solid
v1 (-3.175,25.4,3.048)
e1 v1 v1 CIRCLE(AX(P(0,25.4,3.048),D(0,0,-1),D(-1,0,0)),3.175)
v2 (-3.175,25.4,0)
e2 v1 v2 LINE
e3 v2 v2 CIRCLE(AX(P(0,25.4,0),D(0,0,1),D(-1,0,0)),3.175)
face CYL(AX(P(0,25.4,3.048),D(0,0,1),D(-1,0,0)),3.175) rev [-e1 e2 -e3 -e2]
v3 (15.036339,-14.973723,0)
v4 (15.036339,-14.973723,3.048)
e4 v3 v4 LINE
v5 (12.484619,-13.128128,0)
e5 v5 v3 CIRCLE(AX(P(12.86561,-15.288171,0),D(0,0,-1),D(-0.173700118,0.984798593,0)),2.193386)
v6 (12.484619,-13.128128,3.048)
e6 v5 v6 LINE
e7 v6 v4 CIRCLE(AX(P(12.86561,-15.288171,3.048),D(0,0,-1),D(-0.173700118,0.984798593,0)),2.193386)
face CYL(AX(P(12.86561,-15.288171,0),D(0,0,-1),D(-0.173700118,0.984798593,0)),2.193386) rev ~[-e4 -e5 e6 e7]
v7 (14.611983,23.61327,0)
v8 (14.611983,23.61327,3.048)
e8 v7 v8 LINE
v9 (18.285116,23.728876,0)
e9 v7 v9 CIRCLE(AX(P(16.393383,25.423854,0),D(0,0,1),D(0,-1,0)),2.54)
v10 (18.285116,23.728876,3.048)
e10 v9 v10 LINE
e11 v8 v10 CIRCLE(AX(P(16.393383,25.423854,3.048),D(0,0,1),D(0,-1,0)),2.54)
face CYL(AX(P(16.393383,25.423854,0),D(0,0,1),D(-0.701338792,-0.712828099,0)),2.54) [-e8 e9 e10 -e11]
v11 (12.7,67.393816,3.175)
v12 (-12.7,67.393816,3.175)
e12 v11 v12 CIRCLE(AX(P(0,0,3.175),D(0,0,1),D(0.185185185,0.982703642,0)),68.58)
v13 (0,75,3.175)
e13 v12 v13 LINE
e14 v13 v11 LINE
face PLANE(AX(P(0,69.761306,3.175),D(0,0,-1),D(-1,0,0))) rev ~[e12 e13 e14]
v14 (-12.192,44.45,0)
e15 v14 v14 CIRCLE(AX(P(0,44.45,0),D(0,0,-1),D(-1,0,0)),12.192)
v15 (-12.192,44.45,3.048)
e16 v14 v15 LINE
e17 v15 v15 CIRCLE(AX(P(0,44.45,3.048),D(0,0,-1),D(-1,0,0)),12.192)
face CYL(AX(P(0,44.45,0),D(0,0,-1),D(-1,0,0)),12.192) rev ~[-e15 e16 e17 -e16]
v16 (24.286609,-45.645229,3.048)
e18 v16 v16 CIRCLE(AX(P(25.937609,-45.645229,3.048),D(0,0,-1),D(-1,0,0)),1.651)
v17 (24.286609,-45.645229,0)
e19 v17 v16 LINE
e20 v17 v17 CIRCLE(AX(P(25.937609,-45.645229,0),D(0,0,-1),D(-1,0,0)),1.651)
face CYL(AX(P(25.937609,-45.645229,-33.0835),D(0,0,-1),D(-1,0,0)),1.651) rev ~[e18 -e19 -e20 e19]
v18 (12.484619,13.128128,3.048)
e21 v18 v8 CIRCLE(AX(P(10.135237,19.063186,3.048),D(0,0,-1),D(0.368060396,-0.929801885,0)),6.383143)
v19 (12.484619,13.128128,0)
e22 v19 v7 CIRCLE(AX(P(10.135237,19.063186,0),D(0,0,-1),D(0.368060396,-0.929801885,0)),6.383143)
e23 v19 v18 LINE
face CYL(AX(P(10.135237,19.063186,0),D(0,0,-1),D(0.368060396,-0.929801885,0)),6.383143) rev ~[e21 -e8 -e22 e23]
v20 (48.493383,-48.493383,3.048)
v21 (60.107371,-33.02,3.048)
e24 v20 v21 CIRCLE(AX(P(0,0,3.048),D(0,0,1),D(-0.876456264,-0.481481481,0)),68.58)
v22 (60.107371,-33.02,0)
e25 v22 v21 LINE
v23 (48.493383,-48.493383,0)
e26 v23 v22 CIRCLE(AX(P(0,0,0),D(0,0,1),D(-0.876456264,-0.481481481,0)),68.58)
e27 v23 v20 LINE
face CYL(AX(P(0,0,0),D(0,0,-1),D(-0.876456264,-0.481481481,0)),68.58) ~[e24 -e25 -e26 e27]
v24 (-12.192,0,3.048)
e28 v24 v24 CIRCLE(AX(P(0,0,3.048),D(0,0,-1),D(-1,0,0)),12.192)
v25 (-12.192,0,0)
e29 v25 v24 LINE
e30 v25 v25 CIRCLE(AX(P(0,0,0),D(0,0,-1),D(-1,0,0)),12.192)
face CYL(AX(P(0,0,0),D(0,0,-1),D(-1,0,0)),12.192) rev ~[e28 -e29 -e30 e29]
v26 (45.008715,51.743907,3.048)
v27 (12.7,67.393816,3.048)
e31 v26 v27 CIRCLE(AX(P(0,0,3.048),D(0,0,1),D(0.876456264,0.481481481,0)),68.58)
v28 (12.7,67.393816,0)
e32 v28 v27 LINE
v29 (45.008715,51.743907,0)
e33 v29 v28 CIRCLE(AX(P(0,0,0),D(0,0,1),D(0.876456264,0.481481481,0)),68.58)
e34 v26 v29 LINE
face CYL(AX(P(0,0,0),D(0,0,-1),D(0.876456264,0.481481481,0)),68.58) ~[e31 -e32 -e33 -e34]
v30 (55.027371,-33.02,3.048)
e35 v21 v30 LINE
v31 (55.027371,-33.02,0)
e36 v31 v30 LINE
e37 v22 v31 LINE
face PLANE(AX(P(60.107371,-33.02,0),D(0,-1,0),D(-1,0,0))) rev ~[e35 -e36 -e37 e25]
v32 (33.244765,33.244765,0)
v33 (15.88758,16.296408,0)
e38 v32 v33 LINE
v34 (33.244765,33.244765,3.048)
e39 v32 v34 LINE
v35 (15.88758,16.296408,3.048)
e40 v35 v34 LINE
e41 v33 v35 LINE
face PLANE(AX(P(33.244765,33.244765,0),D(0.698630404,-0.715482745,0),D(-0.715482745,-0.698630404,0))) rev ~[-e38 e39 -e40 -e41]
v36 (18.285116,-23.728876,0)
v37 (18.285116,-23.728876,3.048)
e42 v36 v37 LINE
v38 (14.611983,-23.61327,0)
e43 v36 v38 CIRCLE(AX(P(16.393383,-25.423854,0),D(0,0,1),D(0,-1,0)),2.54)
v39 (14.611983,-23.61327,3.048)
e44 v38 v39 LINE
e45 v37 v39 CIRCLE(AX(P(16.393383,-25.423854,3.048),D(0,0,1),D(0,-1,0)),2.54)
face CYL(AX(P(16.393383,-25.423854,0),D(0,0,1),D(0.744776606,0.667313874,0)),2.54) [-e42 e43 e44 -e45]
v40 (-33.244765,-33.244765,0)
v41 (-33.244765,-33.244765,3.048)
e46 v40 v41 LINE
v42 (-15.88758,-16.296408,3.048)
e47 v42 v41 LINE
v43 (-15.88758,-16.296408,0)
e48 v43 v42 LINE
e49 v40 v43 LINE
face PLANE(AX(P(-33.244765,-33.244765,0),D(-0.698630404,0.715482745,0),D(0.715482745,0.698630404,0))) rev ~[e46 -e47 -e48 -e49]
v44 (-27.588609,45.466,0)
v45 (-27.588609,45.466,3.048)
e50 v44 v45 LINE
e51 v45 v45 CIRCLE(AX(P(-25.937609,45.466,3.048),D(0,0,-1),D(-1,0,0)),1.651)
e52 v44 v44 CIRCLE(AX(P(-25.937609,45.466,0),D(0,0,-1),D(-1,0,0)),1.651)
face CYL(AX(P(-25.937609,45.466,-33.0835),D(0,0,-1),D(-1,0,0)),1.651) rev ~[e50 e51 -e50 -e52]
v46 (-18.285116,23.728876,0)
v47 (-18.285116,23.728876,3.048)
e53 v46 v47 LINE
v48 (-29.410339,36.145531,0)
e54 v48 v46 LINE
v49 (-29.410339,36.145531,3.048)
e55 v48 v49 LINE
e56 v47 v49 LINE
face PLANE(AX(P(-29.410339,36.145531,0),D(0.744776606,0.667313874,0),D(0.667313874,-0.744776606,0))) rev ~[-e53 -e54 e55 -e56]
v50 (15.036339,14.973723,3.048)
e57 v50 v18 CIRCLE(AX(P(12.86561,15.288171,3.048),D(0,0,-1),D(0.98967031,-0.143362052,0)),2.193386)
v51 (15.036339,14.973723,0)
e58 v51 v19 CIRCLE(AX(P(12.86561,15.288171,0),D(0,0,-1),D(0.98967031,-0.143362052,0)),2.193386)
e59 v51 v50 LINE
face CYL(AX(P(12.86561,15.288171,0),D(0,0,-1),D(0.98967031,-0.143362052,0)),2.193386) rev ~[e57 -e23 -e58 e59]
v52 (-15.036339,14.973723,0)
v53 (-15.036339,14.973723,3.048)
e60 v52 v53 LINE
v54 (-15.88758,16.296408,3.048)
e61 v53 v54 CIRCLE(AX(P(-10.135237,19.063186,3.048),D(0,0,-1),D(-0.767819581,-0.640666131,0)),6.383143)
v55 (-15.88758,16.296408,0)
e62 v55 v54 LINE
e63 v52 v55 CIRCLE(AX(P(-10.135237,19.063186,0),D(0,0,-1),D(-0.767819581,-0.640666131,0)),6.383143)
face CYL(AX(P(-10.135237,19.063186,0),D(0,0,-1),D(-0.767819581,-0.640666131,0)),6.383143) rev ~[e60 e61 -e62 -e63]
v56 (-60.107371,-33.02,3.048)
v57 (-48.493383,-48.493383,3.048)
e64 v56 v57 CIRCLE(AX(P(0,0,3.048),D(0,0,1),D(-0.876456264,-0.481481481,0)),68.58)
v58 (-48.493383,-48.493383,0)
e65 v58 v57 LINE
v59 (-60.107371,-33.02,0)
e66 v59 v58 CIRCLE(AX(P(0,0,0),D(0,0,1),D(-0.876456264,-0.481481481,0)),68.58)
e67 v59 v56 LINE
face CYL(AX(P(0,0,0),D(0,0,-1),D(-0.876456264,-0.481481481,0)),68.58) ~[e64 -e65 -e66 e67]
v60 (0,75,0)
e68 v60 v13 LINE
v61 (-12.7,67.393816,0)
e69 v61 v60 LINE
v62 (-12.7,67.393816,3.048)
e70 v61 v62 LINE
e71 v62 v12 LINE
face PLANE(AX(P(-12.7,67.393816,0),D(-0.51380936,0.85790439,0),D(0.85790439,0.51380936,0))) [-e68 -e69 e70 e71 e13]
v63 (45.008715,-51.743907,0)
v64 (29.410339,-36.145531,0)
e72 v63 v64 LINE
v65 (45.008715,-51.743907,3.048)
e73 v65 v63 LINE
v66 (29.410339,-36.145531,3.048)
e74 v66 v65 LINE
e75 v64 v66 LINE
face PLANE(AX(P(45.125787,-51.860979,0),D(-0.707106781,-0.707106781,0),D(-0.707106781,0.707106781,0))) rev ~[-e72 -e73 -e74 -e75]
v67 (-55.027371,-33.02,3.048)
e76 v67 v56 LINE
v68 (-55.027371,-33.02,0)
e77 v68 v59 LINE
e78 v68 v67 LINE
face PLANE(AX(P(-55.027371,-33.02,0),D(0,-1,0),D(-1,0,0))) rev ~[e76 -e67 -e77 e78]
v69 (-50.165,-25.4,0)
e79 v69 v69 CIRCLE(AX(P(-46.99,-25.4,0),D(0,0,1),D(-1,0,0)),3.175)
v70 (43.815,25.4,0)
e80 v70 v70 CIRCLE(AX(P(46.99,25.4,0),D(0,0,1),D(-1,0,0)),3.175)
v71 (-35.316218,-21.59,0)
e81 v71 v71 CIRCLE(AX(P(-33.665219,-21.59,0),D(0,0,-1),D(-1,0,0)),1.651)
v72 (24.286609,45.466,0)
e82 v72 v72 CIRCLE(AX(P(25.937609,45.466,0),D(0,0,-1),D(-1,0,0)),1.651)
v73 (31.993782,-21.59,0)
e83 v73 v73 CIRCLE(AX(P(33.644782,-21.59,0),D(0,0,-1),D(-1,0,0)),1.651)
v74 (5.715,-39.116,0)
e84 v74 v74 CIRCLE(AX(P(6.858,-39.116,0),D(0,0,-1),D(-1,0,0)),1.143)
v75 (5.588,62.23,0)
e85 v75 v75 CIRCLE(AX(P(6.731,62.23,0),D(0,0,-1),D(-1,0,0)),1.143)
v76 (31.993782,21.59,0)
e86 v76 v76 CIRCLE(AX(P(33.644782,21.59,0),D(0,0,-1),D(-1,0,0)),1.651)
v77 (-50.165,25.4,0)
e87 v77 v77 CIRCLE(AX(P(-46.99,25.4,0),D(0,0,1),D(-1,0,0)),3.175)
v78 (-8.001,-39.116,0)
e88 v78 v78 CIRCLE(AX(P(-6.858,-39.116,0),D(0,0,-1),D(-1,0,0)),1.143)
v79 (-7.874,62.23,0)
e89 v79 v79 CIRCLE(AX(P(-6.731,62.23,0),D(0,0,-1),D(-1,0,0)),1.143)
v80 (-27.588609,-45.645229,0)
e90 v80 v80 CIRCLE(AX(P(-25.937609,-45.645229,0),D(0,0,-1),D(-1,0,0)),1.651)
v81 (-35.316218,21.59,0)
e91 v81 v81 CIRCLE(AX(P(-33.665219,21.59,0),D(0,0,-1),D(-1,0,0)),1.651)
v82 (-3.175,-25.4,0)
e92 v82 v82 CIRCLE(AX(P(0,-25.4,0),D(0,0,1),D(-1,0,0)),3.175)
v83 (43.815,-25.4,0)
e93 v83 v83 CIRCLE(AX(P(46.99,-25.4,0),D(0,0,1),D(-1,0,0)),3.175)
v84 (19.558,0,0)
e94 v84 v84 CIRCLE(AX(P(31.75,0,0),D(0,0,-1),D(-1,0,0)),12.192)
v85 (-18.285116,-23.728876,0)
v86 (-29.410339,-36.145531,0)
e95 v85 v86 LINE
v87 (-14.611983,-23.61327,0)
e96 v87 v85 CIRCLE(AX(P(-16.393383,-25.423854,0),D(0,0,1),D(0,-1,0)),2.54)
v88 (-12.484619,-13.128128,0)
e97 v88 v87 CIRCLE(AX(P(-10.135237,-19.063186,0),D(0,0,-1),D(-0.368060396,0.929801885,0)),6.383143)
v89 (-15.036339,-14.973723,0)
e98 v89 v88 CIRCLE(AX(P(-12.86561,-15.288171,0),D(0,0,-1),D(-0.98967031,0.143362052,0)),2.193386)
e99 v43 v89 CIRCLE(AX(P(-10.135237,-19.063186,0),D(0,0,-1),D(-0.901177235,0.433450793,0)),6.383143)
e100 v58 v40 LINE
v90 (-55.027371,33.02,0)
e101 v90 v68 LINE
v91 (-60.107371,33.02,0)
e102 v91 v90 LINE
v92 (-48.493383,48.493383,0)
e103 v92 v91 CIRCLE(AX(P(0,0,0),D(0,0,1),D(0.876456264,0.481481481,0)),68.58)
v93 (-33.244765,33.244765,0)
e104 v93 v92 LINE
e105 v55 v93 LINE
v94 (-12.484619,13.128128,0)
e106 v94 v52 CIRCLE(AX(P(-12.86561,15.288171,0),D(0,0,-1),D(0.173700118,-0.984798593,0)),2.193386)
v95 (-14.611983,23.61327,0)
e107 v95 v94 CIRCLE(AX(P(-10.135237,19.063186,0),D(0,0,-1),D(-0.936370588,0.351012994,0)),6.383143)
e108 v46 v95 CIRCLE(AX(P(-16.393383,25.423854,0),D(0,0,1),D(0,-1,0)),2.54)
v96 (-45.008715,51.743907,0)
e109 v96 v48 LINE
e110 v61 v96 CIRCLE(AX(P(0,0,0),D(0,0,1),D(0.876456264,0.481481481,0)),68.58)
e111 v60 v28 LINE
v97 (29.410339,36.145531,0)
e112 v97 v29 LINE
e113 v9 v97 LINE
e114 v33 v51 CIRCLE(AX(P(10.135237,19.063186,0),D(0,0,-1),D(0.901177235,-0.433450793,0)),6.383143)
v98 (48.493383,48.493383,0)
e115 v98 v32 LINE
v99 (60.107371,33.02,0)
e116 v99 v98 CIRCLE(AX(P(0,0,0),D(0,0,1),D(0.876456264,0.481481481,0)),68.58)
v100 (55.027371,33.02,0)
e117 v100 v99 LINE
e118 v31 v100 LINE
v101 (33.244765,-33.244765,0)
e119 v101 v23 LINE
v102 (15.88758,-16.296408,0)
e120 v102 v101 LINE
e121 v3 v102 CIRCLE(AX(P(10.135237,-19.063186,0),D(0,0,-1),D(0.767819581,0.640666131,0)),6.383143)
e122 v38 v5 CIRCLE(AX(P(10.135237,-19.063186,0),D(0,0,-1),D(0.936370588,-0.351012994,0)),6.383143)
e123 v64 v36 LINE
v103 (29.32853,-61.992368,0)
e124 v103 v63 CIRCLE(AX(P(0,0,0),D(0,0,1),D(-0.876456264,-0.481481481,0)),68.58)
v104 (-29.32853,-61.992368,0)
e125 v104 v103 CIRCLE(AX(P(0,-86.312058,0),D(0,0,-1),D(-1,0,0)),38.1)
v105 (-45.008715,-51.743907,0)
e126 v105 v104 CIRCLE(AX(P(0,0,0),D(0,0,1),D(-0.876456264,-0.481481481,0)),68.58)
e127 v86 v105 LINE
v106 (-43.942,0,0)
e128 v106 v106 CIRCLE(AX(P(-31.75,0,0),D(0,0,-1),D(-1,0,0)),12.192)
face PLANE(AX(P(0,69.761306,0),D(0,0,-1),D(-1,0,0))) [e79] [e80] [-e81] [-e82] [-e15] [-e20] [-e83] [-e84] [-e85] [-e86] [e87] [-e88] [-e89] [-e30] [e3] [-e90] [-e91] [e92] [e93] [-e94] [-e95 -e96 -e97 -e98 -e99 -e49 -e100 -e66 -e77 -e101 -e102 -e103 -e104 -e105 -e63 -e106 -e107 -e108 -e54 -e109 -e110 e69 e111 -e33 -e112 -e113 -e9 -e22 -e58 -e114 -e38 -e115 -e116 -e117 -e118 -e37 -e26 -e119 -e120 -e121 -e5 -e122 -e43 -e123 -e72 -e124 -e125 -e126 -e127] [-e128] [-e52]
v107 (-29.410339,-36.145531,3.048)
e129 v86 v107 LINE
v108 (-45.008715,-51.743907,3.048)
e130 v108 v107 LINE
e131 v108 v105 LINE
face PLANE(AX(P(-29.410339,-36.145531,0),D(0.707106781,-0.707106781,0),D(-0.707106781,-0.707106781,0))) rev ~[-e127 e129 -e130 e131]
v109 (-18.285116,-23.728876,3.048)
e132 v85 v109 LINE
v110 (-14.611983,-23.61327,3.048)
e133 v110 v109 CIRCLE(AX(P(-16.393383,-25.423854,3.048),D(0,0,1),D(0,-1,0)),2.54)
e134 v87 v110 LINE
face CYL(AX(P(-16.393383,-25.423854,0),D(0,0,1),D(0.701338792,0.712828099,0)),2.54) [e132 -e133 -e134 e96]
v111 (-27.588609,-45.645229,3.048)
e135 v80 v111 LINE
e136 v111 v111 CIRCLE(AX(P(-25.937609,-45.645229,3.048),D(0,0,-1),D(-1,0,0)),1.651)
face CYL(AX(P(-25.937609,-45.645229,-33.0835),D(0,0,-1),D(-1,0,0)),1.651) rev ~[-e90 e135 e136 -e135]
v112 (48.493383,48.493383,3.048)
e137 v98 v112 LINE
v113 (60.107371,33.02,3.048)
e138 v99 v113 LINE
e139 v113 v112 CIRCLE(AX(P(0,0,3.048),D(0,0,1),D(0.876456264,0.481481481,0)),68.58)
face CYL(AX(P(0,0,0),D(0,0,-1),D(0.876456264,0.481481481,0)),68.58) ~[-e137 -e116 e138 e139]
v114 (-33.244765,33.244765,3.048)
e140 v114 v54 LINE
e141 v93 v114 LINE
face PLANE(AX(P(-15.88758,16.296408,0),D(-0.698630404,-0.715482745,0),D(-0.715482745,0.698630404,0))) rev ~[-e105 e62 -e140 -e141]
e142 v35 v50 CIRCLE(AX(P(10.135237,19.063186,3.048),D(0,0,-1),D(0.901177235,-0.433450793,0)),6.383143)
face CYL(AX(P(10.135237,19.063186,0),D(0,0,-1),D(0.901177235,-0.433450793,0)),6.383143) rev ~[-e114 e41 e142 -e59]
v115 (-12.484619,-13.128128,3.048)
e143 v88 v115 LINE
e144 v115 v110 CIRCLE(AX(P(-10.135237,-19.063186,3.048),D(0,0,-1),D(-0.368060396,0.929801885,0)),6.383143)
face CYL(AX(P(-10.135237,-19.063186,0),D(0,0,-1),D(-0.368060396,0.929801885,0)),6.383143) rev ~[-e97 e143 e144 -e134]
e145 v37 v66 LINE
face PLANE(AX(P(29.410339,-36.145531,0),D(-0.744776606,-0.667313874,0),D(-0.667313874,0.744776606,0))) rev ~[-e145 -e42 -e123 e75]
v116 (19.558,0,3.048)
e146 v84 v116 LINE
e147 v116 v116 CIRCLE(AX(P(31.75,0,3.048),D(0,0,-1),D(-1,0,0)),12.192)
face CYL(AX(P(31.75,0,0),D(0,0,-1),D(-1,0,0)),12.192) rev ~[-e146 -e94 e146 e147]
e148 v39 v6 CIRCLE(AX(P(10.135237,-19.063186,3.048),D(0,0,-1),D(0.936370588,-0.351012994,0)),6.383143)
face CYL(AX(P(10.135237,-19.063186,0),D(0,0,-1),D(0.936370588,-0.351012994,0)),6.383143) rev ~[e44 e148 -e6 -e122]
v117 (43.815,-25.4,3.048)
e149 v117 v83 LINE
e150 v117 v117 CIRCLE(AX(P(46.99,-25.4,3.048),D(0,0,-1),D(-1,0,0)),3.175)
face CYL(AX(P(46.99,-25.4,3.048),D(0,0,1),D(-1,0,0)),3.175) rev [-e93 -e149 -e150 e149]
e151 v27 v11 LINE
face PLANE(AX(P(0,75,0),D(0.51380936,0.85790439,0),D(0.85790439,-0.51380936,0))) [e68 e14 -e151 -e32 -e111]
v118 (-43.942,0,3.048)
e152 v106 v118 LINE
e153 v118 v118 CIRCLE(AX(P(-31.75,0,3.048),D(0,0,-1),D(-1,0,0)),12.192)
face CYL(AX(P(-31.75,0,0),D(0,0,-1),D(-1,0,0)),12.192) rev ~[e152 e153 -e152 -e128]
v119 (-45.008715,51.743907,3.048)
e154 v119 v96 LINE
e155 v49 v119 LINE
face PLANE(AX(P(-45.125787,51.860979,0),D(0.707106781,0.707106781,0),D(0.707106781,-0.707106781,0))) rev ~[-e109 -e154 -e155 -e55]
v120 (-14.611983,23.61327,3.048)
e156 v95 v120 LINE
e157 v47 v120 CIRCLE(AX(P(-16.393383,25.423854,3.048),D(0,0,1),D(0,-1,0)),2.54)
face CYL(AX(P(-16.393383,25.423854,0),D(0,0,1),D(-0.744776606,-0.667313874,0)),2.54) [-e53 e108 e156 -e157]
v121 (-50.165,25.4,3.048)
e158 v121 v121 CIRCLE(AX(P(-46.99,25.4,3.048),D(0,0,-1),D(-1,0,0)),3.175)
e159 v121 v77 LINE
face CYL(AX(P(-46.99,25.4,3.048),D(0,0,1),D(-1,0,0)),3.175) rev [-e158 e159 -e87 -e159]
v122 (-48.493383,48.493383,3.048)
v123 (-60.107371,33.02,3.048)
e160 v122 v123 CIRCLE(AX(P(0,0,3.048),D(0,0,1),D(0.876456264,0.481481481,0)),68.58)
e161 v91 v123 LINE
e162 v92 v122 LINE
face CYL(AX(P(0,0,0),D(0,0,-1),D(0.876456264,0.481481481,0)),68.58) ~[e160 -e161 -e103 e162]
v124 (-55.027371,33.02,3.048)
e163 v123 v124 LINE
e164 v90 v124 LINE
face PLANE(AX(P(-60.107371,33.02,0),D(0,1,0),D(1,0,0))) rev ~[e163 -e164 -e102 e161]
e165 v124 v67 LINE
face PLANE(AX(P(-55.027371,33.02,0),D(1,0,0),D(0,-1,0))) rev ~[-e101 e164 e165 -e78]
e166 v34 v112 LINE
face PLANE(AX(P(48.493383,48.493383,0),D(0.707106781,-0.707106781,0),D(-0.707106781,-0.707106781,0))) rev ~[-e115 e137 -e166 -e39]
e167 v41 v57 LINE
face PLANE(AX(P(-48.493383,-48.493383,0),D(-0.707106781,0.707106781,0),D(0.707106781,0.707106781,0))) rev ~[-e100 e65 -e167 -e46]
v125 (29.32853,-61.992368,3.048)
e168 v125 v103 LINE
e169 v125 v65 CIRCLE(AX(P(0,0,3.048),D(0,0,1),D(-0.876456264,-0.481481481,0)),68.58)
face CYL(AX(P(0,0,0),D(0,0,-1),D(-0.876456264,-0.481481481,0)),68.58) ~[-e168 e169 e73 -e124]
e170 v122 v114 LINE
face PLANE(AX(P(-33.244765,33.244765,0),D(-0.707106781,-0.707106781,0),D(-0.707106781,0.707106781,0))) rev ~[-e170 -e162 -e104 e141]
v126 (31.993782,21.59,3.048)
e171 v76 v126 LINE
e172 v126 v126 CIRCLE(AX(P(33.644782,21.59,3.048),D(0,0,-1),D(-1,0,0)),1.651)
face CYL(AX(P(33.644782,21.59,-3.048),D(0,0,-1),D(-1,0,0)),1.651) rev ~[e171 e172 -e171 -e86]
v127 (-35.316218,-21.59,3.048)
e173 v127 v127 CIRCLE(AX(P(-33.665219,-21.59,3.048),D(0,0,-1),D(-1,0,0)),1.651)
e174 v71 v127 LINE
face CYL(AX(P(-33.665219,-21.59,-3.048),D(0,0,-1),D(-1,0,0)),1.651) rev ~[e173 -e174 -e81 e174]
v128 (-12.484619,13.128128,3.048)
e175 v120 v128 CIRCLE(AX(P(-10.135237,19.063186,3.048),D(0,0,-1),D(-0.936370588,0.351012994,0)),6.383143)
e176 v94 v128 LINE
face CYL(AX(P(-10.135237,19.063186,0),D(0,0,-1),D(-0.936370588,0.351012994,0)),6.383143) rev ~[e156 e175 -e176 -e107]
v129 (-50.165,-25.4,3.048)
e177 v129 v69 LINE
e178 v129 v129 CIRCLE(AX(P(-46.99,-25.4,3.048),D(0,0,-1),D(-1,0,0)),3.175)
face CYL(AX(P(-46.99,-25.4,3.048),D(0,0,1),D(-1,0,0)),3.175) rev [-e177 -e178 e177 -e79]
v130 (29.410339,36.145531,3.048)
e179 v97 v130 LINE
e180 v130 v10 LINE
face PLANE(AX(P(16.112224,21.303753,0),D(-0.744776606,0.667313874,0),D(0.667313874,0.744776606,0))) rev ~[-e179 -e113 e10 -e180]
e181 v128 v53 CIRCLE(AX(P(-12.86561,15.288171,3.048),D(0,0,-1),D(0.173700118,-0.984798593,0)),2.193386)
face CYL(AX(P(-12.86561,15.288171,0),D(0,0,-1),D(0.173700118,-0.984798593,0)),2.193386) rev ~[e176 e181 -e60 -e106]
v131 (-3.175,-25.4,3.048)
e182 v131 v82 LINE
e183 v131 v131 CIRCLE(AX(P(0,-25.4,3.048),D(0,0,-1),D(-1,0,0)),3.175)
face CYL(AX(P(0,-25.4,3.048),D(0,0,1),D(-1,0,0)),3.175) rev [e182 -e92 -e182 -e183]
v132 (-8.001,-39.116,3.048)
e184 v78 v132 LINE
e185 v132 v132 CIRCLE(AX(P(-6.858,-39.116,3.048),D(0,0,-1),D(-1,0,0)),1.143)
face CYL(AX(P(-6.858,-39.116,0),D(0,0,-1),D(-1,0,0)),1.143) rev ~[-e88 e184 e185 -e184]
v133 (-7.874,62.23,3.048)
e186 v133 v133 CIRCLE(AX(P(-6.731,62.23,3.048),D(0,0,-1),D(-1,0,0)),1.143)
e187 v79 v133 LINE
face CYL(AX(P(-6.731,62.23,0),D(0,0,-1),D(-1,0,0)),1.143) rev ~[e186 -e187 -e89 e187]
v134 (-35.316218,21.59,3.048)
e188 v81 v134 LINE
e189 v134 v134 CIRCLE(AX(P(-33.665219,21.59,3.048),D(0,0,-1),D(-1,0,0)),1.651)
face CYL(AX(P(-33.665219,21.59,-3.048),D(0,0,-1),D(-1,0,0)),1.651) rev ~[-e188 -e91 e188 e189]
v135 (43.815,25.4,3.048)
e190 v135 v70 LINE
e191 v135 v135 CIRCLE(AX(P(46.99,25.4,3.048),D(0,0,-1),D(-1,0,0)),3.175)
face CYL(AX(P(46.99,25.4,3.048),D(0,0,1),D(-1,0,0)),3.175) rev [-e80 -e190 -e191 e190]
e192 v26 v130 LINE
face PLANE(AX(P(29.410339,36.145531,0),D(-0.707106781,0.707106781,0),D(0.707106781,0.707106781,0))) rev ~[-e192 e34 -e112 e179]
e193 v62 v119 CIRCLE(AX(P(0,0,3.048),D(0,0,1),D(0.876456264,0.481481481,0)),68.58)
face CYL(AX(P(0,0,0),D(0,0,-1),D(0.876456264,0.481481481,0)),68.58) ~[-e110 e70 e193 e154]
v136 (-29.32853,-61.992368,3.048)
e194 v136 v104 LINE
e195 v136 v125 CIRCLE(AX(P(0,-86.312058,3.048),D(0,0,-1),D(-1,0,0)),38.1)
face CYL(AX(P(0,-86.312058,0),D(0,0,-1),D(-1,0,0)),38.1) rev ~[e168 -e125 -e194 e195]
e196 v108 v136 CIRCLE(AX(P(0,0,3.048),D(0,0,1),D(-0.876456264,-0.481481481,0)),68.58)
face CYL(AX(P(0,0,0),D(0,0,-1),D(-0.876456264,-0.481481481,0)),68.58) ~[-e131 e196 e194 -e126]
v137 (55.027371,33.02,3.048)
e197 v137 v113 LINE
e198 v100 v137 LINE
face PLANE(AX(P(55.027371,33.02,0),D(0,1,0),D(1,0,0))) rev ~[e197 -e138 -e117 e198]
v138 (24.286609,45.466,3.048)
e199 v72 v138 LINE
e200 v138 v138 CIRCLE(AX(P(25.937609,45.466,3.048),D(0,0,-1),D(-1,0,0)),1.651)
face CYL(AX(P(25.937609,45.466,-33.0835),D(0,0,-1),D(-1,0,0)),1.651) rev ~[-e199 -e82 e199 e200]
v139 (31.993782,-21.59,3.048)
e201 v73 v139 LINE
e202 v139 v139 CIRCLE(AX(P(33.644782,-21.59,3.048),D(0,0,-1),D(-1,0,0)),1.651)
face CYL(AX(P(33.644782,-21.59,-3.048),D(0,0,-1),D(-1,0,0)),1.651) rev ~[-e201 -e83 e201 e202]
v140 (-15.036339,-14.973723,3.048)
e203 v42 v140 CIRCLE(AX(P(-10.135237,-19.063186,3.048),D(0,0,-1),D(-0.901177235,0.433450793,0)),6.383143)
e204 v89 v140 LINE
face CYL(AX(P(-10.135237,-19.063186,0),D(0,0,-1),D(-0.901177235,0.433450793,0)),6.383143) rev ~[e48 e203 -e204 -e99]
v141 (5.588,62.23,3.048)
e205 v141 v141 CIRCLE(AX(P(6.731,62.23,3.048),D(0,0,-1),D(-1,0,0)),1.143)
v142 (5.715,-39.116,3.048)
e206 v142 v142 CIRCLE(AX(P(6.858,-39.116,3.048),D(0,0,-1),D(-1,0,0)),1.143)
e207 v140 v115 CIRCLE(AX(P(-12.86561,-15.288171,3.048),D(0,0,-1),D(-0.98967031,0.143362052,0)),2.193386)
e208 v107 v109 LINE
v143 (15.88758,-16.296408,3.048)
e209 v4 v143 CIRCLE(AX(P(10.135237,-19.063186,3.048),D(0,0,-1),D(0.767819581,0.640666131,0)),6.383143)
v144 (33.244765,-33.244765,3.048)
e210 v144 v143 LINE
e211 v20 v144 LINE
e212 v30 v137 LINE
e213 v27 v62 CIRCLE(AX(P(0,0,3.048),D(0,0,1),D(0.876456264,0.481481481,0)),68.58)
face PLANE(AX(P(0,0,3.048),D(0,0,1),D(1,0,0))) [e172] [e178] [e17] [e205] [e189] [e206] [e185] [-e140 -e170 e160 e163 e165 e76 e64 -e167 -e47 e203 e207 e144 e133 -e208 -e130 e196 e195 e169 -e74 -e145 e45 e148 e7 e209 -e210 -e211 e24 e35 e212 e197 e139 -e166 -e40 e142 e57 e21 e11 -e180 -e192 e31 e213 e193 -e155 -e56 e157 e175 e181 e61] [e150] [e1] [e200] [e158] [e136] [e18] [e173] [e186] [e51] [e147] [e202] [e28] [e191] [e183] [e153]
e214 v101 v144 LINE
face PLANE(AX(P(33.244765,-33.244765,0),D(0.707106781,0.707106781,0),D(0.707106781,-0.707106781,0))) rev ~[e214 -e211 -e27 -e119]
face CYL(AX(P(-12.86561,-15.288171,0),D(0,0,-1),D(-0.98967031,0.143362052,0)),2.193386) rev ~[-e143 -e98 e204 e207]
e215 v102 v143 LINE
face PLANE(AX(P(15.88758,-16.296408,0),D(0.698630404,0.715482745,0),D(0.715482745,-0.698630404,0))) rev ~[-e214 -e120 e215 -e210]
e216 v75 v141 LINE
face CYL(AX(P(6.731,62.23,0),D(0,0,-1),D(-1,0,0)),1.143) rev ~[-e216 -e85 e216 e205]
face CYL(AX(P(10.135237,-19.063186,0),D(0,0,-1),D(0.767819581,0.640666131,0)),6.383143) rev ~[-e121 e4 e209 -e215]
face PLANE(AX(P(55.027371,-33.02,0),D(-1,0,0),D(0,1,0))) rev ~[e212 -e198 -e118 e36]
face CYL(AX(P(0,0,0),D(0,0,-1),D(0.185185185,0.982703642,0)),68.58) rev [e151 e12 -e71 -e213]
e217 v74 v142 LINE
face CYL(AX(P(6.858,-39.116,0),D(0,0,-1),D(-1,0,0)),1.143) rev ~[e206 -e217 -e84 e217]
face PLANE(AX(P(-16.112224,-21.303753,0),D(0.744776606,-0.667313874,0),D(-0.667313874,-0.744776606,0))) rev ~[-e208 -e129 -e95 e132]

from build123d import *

# Parameters (mm, degrees)
BOSS_EXTRUDE2_DEPTH      = 3.048
SKETCH4_R                = 38.1
CUT_EXTRUDE3_DEPTH       = 4.048
BOSS_EXTRUDE3_DEPTH      = 3.175
SKETCH12_R               = 1.143
CUT_EXTRUDE9_DEPTH       = 4.175
SKETCH15_R               = 1.651
CUT_EXTRUDE12_DEPTH      = 75.692
SKETCH17_R               = 1.651
CUT_EXTRUDE14_DEPTH      = 97.79
SKETCH18_R               = 12.192
CUT_EXTRUDE15_DEPTH      = 35.56
SKETCH19_R               = 3.175
CUT_EXTRUDE16_DEPTH      = 103.378
CUT_EXTRUDE16_DEPTH_BACK = 48.768
SKETCH5_R                = 12.192
CUT_EXTRUDE6_DEPTH       = 4.175
FILLET1_R                = 2.54
SKETCH20_R               = 1.143
CUT_EXTRUDE17_DEPTH      = 4.175


with BuildPart() as part:
    # Sketch1 → Boss-Extrude2 (new body)
    with BuildSketch(Plane.XY):
        with BuildLine():
            Line((-60.107370596, 33.02), (-55.027370596, 33.02))
            Line((-55.027370596, 33.02), (-55.027370596, -33.02))
            Line((-55.027370596, -33.02), (-60.107370596, -33.02))
            ThreePointArc((-60.107370596, -33.02), (0, -68.58), (60.107370596, -33.02))
            Line((60.107370596, -33.02), (55.027370596, -33.02))
            Line((55.027370596, -33.02), (55.027370596, 33.02))
            Line((55.027370596, 33.02), (60.107370596, 33.02))
            ThreePointArc((60.107370596, 33.02), (0, 68.58), (-60.107370596, 33.02))
        make_face()
    extrude(amount=BOSS_EXTRUDE2_DEPTH)

    # Sketch4 → Cut-Extrude3 (cut, through all)
    with BuildSketch(Plane(origin=(0, 0, 0), x_dir=(-1, 0, 0), z_dir=(0, 0, -1))):
        with Locations((0, -86.312058398)):
            Circle(SKETCH4_R)
    extrude(amount=-CUT_EXTRUDE3_DEPTH, mode=Mode.SUBTRACT)

    # Sketch9 → Boss-Extrude3 (add)
    with BuildSketch(Plane(origin=(0, 0, 0), x_dir=(-1, 0, 0), z_dir=(0, 0, -1))):
        with BuildLine():
            Line((12.7, 67.39381574), (0, 75))
            Line((0, 75), (-12.7, 67.39381574))
            ThreePointArc((-12.7, 67.39381574), (0, 68.58), (12.7, 67.39381574))
        make_face()
    extrude(amount=-BOSS_EXTRUDE3_DEPTH)

    # Sketch12 → Cut-Extrude9 (cut, through all)
    with BuildSketch(Plane(origin=(0, 0, 0), x_dir=(-1, 0, 0), z_dir=(0, 0, -1))):
        with Locations((6.731, 62.23)):
            Circle(SKETCH12_R)
        with Locations((-6.731, 62.23)):
            Circle(SKETCH12_R)
    extrude(amount=-CUT_EXTRUDE9_DEPTH, mode=Mode.SUBTRACT)

    # Sketch15 → Cut-Extrude12 (cut)
    with BuildSketch(Plane(origin=(30.092005081, 4.08352975, -3.048), x_dir=(-1, 0, 0), z_dir=(0, 0, -1))):
        with Locations((63.757223581, 17.50647025)):
            Circle(SKETCH15_R)
        with Locations((63.757223581, -25.67352975)):
            Circle(SKETCH15_R)
        with Locations((-3.552776419, -25.67352975)):
            Circle(SKETCH15_R)
        with Locations((-3.552776419, 17.50647025)):
            Circle(SKETCH15_R)
    extrude(amount=-CUT_EXTRUDE12_DEPTH, mode=Mode.SUBTRACT)

    # Sketch17 → Cut-Extrude14 (cut)
    with BuildSketch(Plane(origin=(30.092005081, 4.08352975, -33.0835), x_dir=(-1, 0, 0), z_dir=(0, 0, -1))):
        with Locations((4.154396091, -49.728759131)):
            Circle(SKETCH17_R)
        with Locations((56.02961407, -49.728759131)):
            Circle(SKETCH17_R)
        with Locations((4.154396091, 41.38247025)):
            Circle(SKETCH17_R)
        with Locations((56.02961407, 41.38247025)):
            Circle(SKETCH17_R)
    extrude(amount=-CUT_EXTRUDE14_DEPTH, mode=Mode.SUBTRACT)

    # Sketch18 → Cut-Extrude15 (cut)
    with BuildSketch(Plane(origin=(0, 0, 0), x_dir=(-1, 0, 0), z_dir=(0, 0, -1))):
        with Locations((31.75, 0)):
            Circle(SKETCH18_R)
        with Locations((-31.75, 0)):
            Circle(SKETCH18_R)
    extrude(amount=-CUT_EXTRUDE15_DEPTH, mode=Mode.SUBTRACT)

    # Sketch19 → Cut-Extrude16 (cut, two sides)
    with BuildSketch(Plane(origin=(30.092005081, 4.08352975, 3.048), x_dir=(-1, 0, 0), z_dir=(0, 0, -1))) as cut_extrude16_sk:
        with Locations((-16.897994919, 21.31647025)):
            Circle(SKETCH19_R)
        with Locations((77.082005081, 21.31647025)):
            Circle(SKETCH19_R)
        with Locations((30.092005081, 21.31647025)):
            Circle(SKETCH19_R)
        with Locations((77.082005081, -29.48352975)):
            Circle(SKETCH19_R)
        with Locations((30.092005081, -29.48352975)):
            Circle(SKETCH19_R)
        with Locations((-16.897994919, -29.48352975)):
            Circle(SKETCH19_R)
    extrude(amount=CUT_EXTRUDE16_DEPTH, mode=Mode.SUBTRACT)
    extrude(cut_extrude16_sk.sketch, amount=-CUT_EXTRUDE16_DEPTH_BACK, mode=Mode.SUBTRACT)

    # Sketch5 → Cut-Extrude6 (cut, through all)
    with BuildSketch(Plane(origin=(0, 0, 0), x_dir=(-1, 0, 0), z_dir=(0, 0, -1))):
        with BuildLine():
            Line((45.125787008, -51.860979099), (48.493383054, -48.493383054))
            Line((48.493383054, -48.493383054), (33.244765274, -33.244765274))
            Line((33.244765274, -33.244765274), (15.887580142, -16.296407899))
            ThreePointArc((15.887580142, -16.296407899), (15.502857332, -15.608744759), (15.036339126, -14.973722712))
            ThreePointArc((15.036339126, -14.973722712), (14.151046139, -13.510927072), (12.484618985, -13.128127778))
            ThreePointArc((12.484618985, -13.128127778), (4.300657145, -21.652046912), (16.112224352, -21.303752637))
            Line((16.112224352, -21.303752637), (29.410338797, -36.145530887))
            Line((29.410338797, -36.145530887), (45.125787008, -51.860979099))
        make_face()
        with BuildLine():
            ThreePointArc((15.036339126, 14.973722712), (15.502857332, 15.608744759), (15.887580142, 16.296407899))
            Line((15.887580142, 16.296407899), (33.244765274, 33.244765274))
            Line((33.244765274, 33.244765274), (48.493383054, 48.493383054))
            Line((48.493383054, 48.493383054), (45.125787008, 51.860979099))
            Line((45.125787008, 51.860979099), (29.410338797, 36.145530887))
            Line((29.410338797, 36.145530887), (16.112224352, 21.303752637))
            ThreePointArc((16.112224352, 21.303752637), (4.300657145, 21.652046912), (12.484618985, 13.128127778))
            ThreePointArc((12.484618985, 13.128127778), (14.151046139, 13.510927072), (15.036339126, 14.973722712))
        make_face()
        with BuildLine():
            ThreePointArc((-12.484618985, 13.128127778), (-4.300657145, 21.652046912), (-16.112224352, 21.303752637))
            Line((-16.112224352, 21.303752637), (-29.410338797, 36.145530887))
            Line((-29.410338797, 36.145530887), (-45.125787008, 51.860979099))
            Line((-45.125787008, 51.860979099), (-48.493383054, 48.493383054))
            Line((-48.493383054, 48.493383054), (-33.244765274, 33.244765274))
            Line((-33.244765274, 33.244765274), (-15.887580142, 16.296407899))
            ThreePointArc((-15.887580142, 16.296407899), (-15.502857332, 15.608744759), (-15.036339126, 14.973722712))
            ThreePointArc((-15.036339126, 14.973722712), (-14.151046139, 13.510927072), (-12.484618985, 13.128127778))
        make_face()
        with BuildLine():
            Line((-45.125787008, -51.860979099), (-29.410338797, -36.145530887))
            Line((-29.410338797, -36.145530887), (-16.112224352, -21.303752637))
            ThreePointArc((-16.112224352, -21.303752637), (-4.300657145, -21.652046912), (-12.484618985, -13.128127778))
            ThreePointArc((-12.484618985, -13.128127778), (-14.151046139, -13.510927072), (-15.036339126, -14.973722712))
            ThreePointArc((-15.036339126, -14.973722712), (-15.502857332, -15.608744759), (-15.887580142, -16.296407899))
            Line((-15.887580142, -16.296407899), (-33.244765274, -33.244765274))
            Line((-33.244765274, -33.244765274), (-48.493383054, -48.493383054))
            Line((-48.493383054, -48.493383054), (-45.125787008, -51.860979099))
        make_face()
        Circle(SKETCH5_R)
        with Locations((0, 44.45)):
            Circle(SKETCH5_R)
    extrude(amount=-CUT_EXTRUDE6_DEPTH, mode=Mode.SUBTRACT)

    # Fillet1
    fillet1_edges = [part.edges().sort_by_distance(p)[0] for p in [
        (-16.112224352, -21.303752637, 1.524),
        (-16.112224352, 21.303752637, 1.524),
        (16.112224352, 21.303752637, 1.524),
        (16.112224352, -21.303752637, 1.524),
    ]]
    fillet(fillet1_edges, radius=FILLET1_R)

    # Sketch20 → Cut-Extrude17 (cut, through all)
    with BuildSketch(Plane(origin=(0, 0, 0), x_dir=(-1, 0, 0), z_dir=(0, 0, -1))):
        with Locations((-6.858, -39.116)):
            Circle(SKETCH20_R)
        with Locations((6.858, -39.116)):
            Circle(SKETCH20_R)
    extrude(amount=-CUT_EXTRUDE17_DEPTH, mode=Mode.SUBTRACT)


solid = part.part
